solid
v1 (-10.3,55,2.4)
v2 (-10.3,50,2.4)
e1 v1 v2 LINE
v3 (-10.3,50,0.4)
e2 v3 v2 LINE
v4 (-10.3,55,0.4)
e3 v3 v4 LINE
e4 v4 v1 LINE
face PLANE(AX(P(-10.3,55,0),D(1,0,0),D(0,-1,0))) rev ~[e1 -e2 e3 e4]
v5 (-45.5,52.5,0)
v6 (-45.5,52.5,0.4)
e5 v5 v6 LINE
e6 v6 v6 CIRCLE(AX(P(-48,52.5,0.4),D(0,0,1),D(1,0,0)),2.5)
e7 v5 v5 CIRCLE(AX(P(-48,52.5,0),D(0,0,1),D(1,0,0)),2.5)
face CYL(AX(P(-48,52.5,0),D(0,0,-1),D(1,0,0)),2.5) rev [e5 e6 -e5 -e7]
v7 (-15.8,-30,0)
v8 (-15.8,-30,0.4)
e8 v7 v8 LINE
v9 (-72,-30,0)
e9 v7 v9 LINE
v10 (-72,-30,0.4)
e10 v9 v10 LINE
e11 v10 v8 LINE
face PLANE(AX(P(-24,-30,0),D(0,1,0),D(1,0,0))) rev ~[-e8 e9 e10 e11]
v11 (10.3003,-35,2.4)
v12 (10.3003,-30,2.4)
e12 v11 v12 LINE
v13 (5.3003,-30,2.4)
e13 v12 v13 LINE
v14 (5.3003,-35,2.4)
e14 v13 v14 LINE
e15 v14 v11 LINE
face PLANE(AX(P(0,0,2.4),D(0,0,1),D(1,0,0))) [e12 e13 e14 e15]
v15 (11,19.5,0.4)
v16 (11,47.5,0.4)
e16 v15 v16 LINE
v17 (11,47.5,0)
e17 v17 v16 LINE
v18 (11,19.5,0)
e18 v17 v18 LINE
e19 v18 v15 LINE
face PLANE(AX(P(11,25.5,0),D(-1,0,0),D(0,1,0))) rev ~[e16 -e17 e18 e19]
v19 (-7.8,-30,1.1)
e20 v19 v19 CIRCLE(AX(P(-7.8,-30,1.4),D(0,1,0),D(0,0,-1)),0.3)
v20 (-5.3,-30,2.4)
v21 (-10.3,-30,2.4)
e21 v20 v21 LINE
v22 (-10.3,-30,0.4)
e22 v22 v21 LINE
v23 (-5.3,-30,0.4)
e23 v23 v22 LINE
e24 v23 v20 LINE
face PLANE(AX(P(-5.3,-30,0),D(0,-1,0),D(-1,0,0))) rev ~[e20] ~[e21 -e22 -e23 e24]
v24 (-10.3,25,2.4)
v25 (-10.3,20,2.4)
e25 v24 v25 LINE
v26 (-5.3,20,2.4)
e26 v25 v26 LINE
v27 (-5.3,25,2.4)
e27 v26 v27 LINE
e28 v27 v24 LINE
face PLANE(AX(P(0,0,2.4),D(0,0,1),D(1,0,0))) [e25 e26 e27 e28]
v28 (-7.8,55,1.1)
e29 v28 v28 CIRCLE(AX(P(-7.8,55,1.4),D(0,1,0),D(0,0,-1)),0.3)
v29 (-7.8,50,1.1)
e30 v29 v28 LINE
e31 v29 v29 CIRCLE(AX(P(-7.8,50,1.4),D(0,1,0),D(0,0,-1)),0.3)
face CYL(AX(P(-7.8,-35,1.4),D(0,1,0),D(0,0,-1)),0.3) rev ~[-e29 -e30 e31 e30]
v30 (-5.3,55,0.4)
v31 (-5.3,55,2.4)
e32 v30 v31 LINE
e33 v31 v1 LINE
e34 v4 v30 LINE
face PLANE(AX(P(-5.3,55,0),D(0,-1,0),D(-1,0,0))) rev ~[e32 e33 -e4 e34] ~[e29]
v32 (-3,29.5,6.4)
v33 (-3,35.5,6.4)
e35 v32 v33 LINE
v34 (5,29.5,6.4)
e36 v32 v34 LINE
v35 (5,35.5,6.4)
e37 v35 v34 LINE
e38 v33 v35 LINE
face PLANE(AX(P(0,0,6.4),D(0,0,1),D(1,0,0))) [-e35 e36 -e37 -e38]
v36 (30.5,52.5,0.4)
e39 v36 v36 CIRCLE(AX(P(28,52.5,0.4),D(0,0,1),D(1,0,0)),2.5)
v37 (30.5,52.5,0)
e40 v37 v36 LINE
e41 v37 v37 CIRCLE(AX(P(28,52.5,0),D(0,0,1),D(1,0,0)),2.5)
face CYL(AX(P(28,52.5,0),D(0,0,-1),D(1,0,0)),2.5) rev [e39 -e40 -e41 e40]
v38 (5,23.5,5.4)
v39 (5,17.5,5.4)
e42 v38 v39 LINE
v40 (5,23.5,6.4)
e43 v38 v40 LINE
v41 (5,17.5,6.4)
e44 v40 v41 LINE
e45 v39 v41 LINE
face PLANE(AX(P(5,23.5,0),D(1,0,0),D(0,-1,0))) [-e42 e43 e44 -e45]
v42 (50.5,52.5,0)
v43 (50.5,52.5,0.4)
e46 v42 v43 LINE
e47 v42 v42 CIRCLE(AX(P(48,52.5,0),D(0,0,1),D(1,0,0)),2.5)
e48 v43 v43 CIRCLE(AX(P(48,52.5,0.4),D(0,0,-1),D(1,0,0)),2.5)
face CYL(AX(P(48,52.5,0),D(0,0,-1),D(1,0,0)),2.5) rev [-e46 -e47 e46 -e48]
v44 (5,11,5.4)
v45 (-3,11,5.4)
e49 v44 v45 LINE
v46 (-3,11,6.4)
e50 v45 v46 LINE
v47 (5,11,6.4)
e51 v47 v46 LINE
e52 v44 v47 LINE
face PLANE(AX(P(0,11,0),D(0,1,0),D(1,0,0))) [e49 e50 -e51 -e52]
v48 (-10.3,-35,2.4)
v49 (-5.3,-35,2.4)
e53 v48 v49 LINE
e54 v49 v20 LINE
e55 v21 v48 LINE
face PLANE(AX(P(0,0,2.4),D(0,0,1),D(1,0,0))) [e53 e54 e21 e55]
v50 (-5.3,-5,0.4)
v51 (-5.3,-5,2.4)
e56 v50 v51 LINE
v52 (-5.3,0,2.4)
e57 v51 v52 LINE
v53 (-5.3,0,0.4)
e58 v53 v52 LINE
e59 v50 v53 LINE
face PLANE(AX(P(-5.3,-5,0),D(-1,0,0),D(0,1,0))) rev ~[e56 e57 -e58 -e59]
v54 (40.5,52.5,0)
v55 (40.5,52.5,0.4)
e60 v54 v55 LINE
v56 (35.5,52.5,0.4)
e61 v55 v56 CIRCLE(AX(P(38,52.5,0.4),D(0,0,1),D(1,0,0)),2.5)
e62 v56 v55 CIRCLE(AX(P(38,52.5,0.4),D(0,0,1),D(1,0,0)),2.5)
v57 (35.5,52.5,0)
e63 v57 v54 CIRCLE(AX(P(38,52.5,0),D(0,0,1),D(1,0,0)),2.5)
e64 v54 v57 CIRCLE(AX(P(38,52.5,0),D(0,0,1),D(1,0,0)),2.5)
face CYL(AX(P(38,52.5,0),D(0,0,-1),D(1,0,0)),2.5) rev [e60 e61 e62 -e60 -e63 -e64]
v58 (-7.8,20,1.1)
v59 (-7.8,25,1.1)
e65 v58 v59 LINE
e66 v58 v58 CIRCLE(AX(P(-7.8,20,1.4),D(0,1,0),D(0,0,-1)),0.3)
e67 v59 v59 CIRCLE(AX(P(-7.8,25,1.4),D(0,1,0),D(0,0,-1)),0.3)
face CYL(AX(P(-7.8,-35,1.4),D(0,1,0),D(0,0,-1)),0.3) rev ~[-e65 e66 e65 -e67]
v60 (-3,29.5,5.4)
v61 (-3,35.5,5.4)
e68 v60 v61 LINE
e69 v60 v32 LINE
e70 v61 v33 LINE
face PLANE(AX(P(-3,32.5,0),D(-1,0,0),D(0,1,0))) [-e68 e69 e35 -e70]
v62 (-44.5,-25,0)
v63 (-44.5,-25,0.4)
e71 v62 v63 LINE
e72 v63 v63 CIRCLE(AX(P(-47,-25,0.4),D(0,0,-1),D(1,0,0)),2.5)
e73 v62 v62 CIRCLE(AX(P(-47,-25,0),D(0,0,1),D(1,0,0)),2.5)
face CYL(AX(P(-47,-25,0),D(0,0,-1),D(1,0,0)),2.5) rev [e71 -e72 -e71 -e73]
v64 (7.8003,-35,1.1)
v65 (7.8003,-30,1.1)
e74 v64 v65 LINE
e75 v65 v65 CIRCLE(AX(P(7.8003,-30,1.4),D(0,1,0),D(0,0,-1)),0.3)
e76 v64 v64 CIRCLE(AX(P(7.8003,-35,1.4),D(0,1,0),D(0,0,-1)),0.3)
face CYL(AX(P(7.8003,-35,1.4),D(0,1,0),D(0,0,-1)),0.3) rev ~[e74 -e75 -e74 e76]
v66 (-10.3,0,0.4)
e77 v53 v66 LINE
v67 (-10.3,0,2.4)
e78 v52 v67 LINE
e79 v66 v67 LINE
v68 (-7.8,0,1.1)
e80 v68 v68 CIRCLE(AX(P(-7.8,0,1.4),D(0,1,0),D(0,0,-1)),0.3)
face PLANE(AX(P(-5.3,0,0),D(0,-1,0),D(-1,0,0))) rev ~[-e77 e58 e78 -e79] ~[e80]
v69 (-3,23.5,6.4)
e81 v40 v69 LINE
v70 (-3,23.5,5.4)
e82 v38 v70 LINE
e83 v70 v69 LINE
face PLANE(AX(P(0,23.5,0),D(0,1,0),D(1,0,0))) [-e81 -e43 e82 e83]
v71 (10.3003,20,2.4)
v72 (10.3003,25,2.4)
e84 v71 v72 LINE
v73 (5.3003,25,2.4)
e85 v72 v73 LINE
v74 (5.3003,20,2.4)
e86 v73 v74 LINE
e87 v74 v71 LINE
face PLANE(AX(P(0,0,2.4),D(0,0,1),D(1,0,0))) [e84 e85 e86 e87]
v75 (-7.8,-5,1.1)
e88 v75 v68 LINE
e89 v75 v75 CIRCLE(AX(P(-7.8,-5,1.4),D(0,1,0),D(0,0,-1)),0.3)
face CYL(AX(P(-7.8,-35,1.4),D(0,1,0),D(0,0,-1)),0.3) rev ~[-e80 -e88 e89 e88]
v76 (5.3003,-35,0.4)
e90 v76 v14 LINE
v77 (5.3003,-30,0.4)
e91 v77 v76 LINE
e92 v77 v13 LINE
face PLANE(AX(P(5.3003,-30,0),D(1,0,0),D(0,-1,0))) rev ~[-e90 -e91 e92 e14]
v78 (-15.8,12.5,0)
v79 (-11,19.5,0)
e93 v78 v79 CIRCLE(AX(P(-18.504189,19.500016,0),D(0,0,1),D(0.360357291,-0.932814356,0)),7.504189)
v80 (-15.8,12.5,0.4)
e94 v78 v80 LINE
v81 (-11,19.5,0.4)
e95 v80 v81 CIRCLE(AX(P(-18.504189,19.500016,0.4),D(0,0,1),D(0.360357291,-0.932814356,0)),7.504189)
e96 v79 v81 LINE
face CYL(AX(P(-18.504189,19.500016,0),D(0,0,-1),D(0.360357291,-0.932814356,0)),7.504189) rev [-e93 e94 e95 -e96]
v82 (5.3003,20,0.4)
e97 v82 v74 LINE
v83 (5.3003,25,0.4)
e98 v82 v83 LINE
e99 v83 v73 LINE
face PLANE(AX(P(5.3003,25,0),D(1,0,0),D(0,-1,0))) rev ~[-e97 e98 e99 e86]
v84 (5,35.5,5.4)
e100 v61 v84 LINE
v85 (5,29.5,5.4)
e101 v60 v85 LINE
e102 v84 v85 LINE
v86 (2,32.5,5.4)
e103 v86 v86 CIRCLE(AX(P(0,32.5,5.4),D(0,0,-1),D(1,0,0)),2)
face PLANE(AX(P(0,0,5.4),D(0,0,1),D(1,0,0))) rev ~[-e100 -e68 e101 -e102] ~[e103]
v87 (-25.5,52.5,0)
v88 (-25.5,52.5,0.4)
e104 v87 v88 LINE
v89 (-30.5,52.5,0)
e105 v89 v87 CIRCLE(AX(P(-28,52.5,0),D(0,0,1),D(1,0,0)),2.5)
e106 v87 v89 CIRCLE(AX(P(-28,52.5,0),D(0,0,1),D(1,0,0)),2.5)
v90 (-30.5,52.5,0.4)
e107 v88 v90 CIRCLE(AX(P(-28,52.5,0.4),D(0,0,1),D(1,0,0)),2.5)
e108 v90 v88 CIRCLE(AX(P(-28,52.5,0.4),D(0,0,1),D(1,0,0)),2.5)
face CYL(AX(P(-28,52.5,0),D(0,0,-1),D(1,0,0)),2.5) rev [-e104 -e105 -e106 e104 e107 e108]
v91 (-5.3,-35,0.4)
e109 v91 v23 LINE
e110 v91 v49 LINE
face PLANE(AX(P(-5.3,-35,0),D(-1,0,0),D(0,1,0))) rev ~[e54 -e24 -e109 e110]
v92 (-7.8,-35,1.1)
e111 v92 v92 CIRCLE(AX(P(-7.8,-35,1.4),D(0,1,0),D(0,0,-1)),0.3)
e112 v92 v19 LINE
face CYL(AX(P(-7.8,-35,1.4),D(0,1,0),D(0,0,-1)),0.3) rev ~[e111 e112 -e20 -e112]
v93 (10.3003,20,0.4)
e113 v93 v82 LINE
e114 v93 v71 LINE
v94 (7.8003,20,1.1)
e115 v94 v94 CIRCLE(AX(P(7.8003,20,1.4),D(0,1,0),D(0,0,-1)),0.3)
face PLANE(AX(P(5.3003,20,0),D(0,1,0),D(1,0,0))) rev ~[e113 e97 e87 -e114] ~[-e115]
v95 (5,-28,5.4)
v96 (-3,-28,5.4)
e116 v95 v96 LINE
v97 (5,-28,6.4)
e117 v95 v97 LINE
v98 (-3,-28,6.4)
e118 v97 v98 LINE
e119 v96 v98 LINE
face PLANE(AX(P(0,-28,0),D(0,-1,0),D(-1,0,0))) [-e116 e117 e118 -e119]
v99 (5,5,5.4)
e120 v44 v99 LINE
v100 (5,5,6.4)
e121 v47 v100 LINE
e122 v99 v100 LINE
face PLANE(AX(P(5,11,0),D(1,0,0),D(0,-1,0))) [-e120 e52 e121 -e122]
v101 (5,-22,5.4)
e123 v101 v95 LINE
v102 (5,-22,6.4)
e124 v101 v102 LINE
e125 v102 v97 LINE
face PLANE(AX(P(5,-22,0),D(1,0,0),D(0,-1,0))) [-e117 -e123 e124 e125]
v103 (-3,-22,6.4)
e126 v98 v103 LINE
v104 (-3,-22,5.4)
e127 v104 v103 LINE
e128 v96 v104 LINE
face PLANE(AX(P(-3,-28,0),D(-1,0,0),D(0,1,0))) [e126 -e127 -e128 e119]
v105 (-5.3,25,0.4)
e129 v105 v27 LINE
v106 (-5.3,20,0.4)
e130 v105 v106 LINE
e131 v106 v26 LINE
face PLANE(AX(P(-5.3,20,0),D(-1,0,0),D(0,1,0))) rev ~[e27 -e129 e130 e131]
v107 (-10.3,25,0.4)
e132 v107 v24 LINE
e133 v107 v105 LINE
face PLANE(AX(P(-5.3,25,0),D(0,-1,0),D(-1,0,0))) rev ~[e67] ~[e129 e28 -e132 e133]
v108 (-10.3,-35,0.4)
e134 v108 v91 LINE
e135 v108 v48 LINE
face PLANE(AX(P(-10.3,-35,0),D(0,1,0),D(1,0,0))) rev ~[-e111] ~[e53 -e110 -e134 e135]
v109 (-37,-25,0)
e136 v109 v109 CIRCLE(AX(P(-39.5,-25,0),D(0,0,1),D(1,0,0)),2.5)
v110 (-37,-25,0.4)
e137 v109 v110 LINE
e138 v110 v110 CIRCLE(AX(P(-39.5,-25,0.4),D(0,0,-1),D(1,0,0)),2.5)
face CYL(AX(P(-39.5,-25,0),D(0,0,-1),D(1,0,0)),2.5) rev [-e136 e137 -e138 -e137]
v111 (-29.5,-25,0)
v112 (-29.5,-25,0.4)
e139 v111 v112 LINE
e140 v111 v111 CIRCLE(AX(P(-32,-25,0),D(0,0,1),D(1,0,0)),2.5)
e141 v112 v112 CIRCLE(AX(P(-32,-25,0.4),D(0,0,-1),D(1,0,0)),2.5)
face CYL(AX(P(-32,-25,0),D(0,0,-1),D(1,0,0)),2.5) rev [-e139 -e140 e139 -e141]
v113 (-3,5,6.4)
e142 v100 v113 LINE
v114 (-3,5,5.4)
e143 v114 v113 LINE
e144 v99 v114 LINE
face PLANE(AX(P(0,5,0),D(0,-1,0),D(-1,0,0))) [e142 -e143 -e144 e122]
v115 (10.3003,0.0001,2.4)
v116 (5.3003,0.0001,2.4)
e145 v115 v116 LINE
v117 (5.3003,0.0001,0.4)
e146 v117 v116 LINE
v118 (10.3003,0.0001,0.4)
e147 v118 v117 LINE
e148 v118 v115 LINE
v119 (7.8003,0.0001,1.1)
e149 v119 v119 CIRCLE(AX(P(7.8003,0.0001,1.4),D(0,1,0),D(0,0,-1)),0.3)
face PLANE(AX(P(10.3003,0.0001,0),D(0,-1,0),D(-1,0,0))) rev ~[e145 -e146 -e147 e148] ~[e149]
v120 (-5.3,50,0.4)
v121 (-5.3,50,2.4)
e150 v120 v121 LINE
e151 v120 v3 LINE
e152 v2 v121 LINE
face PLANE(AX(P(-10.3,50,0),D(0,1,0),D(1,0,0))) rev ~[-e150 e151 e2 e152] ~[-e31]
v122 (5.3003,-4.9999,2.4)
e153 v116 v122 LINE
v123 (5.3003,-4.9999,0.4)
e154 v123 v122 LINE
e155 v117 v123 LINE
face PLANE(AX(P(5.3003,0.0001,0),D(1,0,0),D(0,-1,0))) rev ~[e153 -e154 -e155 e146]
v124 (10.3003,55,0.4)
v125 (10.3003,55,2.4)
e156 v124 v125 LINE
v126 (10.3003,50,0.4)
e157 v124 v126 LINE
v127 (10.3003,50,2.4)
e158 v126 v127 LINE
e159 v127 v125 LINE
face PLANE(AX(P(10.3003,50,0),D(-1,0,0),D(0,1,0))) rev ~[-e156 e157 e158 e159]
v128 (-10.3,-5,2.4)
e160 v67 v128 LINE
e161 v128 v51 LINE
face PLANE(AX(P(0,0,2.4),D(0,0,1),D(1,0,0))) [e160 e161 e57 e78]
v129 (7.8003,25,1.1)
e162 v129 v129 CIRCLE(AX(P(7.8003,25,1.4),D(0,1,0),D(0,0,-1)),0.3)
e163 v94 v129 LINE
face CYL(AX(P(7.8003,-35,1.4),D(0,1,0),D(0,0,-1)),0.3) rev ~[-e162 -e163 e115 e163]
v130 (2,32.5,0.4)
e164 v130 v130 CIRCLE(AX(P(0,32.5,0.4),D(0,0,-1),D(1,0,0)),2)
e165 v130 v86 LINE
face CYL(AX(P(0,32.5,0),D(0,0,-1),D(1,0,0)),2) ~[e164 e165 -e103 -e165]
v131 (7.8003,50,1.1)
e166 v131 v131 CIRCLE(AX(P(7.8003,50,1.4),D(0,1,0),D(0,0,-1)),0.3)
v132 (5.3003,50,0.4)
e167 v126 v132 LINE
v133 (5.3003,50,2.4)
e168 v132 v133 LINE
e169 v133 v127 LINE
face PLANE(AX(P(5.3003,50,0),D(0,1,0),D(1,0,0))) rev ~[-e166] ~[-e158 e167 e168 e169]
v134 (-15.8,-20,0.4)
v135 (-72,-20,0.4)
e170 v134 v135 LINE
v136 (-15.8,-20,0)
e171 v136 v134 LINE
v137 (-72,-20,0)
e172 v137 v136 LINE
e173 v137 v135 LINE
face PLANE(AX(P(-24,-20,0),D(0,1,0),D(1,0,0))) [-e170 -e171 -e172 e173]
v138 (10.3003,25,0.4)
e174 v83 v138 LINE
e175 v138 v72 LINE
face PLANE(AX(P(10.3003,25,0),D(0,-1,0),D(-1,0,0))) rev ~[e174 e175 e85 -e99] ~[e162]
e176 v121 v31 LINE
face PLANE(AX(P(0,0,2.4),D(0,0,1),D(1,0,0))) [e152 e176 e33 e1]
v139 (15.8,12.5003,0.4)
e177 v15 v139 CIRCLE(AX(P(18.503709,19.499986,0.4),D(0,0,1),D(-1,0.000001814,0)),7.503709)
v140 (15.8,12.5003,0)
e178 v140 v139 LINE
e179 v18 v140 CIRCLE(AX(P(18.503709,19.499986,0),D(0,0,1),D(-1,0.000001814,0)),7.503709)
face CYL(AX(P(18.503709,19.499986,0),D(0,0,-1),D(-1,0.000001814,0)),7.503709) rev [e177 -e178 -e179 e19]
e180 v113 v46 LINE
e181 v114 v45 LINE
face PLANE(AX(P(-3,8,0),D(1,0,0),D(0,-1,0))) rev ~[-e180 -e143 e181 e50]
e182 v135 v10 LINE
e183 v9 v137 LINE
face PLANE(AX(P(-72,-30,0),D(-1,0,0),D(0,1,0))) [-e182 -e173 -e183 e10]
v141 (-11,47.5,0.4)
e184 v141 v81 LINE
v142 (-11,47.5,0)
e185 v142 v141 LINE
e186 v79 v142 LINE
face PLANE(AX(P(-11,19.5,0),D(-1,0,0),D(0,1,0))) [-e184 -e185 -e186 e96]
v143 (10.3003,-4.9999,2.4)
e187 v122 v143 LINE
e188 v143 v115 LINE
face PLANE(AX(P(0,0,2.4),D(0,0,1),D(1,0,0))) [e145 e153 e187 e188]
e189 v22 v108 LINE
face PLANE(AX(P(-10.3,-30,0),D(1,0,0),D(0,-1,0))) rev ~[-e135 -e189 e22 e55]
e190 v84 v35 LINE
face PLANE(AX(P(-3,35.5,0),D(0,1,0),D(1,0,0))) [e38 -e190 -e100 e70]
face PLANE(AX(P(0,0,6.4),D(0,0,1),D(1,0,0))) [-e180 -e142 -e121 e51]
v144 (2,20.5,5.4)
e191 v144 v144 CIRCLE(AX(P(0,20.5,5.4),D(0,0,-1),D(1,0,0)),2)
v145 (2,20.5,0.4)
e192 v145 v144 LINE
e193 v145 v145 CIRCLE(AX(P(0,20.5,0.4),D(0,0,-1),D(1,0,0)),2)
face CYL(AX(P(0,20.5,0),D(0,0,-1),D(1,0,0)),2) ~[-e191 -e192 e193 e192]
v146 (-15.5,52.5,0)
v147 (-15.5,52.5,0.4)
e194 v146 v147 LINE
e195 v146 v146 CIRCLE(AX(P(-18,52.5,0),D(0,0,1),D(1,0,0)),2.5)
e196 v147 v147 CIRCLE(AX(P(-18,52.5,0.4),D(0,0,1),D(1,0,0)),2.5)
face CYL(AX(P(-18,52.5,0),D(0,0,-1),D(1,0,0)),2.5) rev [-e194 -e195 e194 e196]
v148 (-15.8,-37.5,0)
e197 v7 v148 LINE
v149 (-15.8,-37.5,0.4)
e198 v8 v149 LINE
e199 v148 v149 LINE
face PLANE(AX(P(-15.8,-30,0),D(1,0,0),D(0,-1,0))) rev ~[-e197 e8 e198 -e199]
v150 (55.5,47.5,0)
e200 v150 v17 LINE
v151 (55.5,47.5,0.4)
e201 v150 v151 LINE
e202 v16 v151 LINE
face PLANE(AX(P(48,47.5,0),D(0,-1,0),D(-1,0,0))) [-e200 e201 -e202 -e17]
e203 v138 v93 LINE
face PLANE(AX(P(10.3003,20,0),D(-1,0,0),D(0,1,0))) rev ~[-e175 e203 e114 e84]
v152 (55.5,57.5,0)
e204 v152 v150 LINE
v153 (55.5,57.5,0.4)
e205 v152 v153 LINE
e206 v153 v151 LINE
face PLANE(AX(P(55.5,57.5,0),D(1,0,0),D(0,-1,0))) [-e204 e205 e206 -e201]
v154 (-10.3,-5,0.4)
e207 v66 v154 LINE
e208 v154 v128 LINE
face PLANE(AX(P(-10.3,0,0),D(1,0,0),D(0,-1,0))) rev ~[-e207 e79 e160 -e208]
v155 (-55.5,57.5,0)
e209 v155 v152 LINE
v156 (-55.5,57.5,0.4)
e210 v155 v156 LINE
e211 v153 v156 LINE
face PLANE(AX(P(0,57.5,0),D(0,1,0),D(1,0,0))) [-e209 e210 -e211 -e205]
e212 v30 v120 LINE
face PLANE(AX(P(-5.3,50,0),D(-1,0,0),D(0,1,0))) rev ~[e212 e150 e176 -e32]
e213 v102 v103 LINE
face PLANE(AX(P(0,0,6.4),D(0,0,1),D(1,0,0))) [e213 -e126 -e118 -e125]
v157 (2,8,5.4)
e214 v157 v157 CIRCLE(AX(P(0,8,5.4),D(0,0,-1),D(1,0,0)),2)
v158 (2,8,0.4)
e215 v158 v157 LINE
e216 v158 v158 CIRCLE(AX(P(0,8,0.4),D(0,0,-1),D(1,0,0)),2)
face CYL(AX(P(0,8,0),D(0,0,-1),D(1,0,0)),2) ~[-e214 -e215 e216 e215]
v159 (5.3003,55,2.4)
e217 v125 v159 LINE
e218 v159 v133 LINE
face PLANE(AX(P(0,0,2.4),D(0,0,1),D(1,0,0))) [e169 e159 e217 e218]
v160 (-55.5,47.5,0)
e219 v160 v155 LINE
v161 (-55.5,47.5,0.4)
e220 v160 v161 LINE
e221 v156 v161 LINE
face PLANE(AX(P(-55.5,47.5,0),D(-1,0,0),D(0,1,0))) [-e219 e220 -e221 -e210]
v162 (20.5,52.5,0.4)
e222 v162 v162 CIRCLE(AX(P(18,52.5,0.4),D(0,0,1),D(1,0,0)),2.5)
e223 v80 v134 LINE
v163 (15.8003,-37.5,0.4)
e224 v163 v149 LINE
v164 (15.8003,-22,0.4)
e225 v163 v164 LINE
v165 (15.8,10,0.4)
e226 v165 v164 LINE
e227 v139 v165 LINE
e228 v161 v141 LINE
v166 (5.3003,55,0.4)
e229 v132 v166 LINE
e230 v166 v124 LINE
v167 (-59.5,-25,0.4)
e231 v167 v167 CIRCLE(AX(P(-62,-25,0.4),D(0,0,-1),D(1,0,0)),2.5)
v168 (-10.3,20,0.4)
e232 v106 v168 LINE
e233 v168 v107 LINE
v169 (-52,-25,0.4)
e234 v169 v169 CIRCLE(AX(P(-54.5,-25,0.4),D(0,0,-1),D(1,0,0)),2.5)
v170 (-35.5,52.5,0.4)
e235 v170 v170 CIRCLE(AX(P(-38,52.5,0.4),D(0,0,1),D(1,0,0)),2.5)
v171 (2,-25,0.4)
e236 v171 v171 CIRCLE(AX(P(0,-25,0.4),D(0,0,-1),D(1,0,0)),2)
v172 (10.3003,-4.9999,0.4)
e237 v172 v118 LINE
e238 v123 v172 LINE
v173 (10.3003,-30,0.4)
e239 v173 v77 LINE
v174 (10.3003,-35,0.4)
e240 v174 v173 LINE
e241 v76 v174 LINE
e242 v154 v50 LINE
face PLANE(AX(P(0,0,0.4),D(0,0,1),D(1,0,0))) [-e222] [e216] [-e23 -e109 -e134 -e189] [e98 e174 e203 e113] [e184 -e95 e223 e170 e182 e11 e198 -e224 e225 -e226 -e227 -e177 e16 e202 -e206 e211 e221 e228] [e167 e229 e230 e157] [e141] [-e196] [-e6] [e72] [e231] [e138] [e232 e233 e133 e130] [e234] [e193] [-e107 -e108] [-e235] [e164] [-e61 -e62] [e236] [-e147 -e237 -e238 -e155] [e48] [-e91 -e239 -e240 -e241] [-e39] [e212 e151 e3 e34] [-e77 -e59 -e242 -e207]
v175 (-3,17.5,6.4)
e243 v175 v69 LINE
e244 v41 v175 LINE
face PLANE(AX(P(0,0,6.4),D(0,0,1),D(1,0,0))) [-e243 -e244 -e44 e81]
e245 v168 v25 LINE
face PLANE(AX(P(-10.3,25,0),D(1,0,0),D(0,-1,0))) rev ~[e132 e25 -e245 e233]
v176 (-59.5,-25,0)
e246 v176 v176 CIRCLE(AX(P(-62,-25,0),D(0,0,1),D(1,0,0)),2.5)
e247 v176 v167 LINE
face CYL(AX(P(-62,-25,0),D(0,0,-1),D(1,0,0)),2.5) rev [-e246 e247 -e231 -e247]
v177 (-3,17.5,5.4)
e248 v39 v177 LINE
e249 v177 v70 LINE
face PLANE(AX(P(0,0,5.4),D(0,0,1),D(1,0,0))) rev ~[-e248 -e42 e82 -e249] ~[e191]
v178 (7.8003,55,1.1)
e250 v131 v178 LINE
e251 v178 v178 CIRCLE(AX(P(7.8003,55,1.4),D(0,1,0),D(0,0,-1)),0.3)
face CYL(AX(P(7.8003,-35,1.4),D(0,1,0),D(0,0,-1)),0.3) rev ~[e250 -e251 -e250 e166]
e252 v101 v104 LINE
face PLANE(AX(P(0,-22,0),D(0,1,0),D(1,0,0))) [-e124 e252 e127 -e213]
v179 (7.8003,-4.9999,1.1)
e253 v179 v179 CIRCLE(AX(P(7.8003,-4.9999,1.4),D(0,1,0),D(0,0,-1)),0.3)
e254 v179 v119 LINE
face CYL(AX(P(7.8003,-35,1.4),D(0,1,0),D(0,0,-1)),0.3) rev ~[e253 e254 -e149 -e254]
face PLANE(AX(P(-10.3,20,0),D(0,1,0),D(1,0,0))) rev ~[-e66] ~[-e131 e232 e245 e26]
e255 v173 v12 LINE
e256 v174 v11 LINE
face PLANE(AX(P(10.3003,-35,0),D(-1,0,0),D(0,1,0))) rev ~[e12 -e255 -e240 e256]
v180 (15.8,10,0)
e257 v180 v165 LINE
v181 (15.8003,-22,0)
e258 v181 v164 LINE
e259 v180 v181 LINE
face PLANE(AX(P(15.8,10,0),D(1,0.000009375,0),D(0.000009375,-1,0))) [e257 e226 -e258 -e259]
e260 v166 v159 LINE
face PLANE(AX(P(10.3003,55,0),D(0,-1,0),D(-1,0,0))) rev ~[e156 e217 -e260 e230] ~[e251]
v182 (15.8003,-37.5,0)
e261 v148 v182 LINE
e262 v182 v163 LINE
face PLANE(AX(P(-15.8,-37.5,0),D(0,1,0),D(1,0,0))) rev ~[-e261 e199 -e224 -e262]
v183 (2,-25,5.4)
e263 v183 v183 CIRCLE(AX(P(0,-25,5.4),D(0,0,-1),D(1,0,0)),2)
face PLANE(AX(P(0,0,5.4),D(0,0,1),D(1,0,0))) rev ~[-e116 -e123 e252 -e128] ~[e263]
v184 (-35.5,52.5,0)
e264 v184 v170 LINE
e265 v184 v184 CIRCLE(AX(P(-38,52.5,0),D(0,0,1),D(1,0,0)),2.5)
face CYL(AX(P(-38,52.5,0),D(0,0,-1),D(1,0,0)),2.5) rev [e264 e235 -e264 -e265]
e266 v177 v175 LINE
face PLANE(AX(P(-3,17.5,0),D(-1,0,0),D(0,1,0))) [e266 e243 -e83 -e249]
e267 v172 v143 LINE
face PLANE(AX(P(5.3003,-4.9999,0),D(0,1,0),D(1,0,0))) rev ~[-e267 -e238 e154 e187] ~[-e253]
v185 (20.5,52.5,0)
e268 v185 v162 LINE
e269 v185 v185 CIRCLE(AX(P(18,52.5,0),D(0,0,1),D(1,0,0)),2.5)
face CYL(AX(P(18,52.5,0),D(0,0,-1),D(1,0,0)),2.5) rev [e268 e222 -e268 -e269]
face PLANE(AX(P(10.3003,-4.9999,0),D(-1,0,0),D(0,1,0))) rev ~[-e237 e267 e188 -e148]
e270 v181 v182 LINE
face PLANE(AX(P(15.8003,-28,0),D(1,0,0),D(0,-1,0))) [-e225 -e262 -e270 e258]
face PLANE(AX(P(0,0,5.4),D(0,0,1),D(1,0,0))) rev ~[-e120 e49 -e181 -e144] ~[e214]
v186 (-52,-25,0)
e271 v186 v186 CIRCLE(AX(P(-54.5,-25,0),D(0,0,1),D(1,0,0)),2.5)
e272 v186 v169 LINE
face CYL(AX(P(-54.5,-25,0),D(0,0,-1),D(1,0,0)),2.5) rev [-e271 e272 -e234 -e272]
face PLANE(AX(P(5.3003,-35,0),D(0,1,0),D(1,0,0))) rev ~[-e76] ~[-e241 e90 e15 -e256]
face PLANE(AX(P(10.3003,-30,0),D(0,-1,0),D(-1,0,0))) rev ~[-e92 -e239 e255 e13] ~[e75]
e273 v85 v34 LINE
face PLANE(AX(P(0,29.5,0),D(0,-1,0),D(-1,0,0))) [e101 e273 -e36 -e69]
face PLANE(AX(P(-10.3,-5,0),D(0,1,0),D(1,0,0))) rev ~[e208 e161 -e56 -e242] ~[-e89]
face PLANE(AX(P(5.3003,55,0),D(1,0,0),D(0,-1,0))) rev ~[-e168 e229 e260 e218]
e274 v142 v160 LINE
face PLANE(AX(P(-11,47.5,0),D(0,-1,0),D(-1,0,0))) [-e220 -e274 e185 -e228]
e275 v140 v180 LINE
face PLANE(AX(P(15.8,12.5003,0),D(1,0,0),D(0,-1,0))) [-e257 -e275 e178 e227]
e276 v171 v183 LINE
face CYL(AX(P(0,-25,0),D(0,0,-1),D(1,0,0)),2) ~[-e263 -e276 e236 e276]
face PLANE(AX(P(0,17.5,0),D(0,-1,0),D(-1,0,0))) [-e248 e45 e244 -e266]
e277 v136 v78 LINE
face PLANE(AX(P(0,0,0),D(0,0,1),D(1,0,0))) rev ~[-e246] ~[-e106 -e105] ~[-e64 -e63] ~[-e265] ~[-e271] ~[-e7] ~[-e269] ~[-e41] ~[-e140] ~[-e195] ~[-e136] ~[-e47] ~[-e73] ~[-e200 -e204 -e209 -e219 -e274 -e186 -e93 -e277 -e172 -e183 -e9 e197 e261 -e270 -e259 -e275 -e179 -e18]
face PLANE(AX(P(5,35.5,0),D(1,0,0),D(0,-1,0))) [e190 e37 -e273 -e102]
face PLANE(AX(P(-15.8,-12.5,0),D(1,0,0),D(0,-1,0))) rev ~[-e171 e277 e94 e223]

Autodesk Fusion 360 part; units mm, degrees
sketch "Sketch2" plane through (0, 0, 0) normal (0, 0, 1) x (1, 0, 0)
  circle A0 centre (0, 0) radius 11.5
  line L0 (0, 0) -> (0, -11.5)
  line L1 (9.9593, -5.75) -> (-9.9593, -5.75)
  line L2 (9.9593, -5.75) -> (-9.9593, -5.75)
  arc A1 (-9.9593, -5.75) -> (9.9593, -5.75) centre (0, 0) ccw
  dimension "d6" = 23
sketch "Sketch3" plane through (0, 0, 0) normal (0, 0, 1) x (1, 0, 0)
  line L0 (0, -37.5) -> (0, -12.5)
  line L1 (0, -12.5) -> (0, -7.5)
  line L2 (0, -7.5) -> (0, 7.5)
  line L3 (0, 7.5) -> (0, 12.5)
  line L4 (0, 12.5) -> (0, 32.5)
  line L5 (0, 32.5) -> (0, 57.5)
  line L6 (0, 57.5) -> (48, 57.5)
  line L7 (48, 57.5) -> (48, 47.5)
  line L8 (48, 47.5) -> (0, 47.5)
  line L9 (0, 47.5) -> (-48, 47.5)
  line L10 (-48, 57.5) -> (0, 57.5)
  line L11 (0, 32.5) -> (-47.7177, 32.5)
  line L12 (-24, -25) -> (-72, -25)
  line L13 (-72, -25) -> (-72, -20)
  line L14 (-72, -20) -> (-24, -20)
  line L15 (-24, -20) -> (-24, -30)
  line L16 (-24, -30) -> (-72, -30)
  line L17 (-72, -30) -> (-72, -20)
  line L18 (15.8003, -25) -> (15.8003, -28)
  line L19 (-72, -30) -> (-62, -30) construction
  line L20 (-62, -30) -> (-62, -11.1593) construction
  line L21 (-62, -30) -> (-47, -30) construction
  line L22 (-47, -30) -> (-32, -30) construction
  line L23 (-47, -30) -> (-47, -8.6093) construction
  line L24 (-32, -30) -> (-32, -9.4061) construction
  circle A0 centre (-62, -25) radius 2.5
  circle A1 centre (-47, -25) radius 2.5
  circle A2 centre (-32, -25) radius 2.5
  line L25 (-11, 22.5) -> (-11, 25.5)
  line L26 (-11, 19.5) -> (-11, 22.5)
  line L27 (12, 22.5) -> (11, 22.5)
  line L28 (11, 22.5) -> (11, 25.5)
  line L29 (11, 19.5) -> (11, 22.5)
  line L30 (48, 52.5) -> (38, 52.5) construction
  circle A3 centre (-38, 52.5) radius 2.5
  circle A4 centre (38, 52.5) radius 2.5
  line L31 (-38, 52.5) -> (-28, 52.5)
  line L32 (38, 52.5) -> (28, 52.5)
  circle A5 centre (28, 52.5) radius 2.5
  circle A6 centre (-28, 52.5) radius 2.5
  line L33 (-15.8, -12.5) -> (-15.8, 12.5)
  line L34 (11, 25.5) -> (11, 47.5)
  line L35 (-11, 25.5) -> (-11, 47.5)
  line L36 (-15.8, -12.5) -> (-15.8, -37.5)
  line L37 (15.8, 10) -> (15.8003, -22)
  line L38 (-24, -20) -> (-15.8, -20)
  line L39 (-24, -30) -> (-15.8, -30)
  line L40 (-15.8, -37.5) -> (15.8003, -37.5)
  line L41 (15.8003, -22) -> (15.8003, -37.5)
  circle A7 centre (0, -25) radius 2
  line L42 (-2, -25) -> (-3, -25)
  line L43 (-3, -25) -> (-3, -22)
  line L44 (-3, -22) -> (5, -22)
  line L45 (5, -22) -> (5, -28)
  line L46 (5, -28) -> (-3, -28)
  line L47 (-3, -28) -> (-3, -25)
  line L48 (-34.5, -25) -> (-39.5, -25)
  line L49 (-49.5, -25) -> (-54.5, -25)
  circle A8 centre (-39.5, -25) radius 2.5
  circle A9 centre (-54.5, -25) radius 2.5
  line L50 (-15.8, 12.5) -> (15.8, 12.5003)
  line L51 (15.8, 12.5003) -> (15.8, 10)
  arc A10 (-15.8, 12.5) -> (-11, 19.5) centre (-18.5042, 19.5) ccw
  arc A11 (11, 19.5) -> (15.8, 12.5003) centre (18.5037, 19.5) ccw
  circle A12 centre (23, 52.5) radius 2.5 construction
  circle A13 centre (18, 52.5) radius 2.5
  circle A14 centre (-23, 52.5) radius 2.5 construction
  circle A15 centre (-18, 52.5) radius 2.5
  circle A16 centre (43, 52.5) radius 2.5 construction
  circle A17 centre (48, 52.5) radius 2.5
  circle A18 centre (-48, 52.5) radius 2.5
  circle A19 centre (0, 32.5) radius 2
  circle A20 centre (0, 20.5) radius 2
  circle A21 centre (0, 8) radius 2
  line L52 (-2, 8) -> (-3, 8)
  line L53 (-3, 8) -> (-3, 11)
  line L54 (-3, 11) -> (5, 11)
  line L55 (5, 11) -> (5, 5)
  line L56 (5, 5) -> (-3, 5)
  line L57 (-3, 8) -> (-3, 5)
  line L58 (-2, 20.5) -> (-3, 20.5)
  line L59 (-3, 20.5) -> (-3, 23.5)
  line L60 (-3, 23.5) -> (5, 23.5)
  line L61 (5, 23.5) -> (5, 17.5)
  line L62 (5, 17.5) -> (-3, 17.5)
  line L63 (-3, 17.5) -> (-3, 20.5)
  line L64 (-2, 32.5) -> (-3, 32.5)
  line L65 (-3, 32.5) -> (-3, 35.5)
  line L66 (-3, 35.5) -> (5, 35.5)
  line L67 (5, 35.5) -> (5, 29.5)
  line L68 (5, 29.5) -> (-3, 29.5)
  line L69 (-3, 29.5) -> (-3, 32.5)
  line L70 (55.5, 57.5) -> (55.5, 47.5)
  line L71 (48, 47.5) -> (55.5, 47.5)
  line L72 (55.5, 57.5) -> (48, 57.5)
  line L73 (-55.5, 52.5) -> (-55.5, 57.5)
  line L74 (-55.5, 57.5) -> (-48, 57.5)
  line L75 (-48, 47.5) -> (-55.5, 47.5)
  line L76 (-55.5, 47.5) -> (-55.5, 52.5)
  line L77 (15.8003, -37.5) -> (7.8003, -37.5)
  line L78 (7.8003, -37.5) -> (7.8003, 57.5) construction
  line L79 (-15.8, -37.5) -> (-7.8, -37.5) construction
  line L80 (-7.8, -37.5) -> (-7.8, 57.5) construction
  line L81 (7.8003, -37.5) -> (7.8003, -32.5) construction
  line L82 (-7.8, -37.5) -> (-7.8, -32.5) construction
  line L83 (10.3003, -30) -> (5.3003, -30)
  line L84 (5.3003, -30) -> (5.3003, -35)
  line L85 (5.3003, -35) -> (10.3003, -35)
  line L86 (10.3003, -35) -> (10.3003, -30)
  line L87 (10.3003, -30) -> (5.3003, -35) construction
  line L88 (5.3003, -30) -> (10.3003, -35) construction
  line L89 (-5.3, -30) -> (-10.3, -30)
  line L90 (-10.3, -30) -> (-10.3, -35)
  line L91 (-10.3, -35) -> (-5.3, -35)
  line L92 (-5.3, -35) -> (-5.3, -30)
  line L93 (-5.3, -30) -> (-10.3, -35) construction
  line L94 (-10.3, -30) -> (-5.3, -35) construction
  line L95 (0, -37.5) -> (0, -2.5) construction
  line L96 (0, -2.5) -> (29.2324, -2.4997) construction
  line L97 (0, -2.5) -> (-32.3166, -2.4998) construction
  line L98 (-5.3, 0) -> (-10.3, 0)
  line L99 (-10.3, 0) -> (-10.3, -5)
  line L100 (-10.3, -5) -> (-5.3, -5)
  line L101 (-5.3, -5) -> (-5.3, 0)
  line L102 (-5.3, 0) -> (-10.3, -5) construction
  line L103 (-10.3, 0) -> (-5.3, -5) construction
  line L104 (10.3003, 0.0001) -> (5.3003, 0.0001)
  line L105 (5.3003, 0.0001) -> (5.3003, -4.9999)
  line L106 (5.3003, -4.9999) -> (10.3003, -4.9999)
  line L107 (10.3003, -4.9999) -> (10.3003, 0.0001)
  line L108 (10.3003, 0.0001) -> (5.3003, -4.9999) construction
  line L109 (5.3003, 0.0001) -> (10.3003, -4.9999) construction
  line L110 (0, -37.5) -> (0, 22.5) construction
  line L111 (0, 22.5) -> (29.4799, 22.5) construction
  line L112 (0, 22.5) -> (-30.0065, 22.5) construction
  line L113 (-5.3, 25) -> (-10.3, 25)
  line L114 (-10.3, 25) -> (-10.3, 20)
  line L115 (-10.3, 20) -> (-5.3, 20)
  line L116 (-5.3, 20) -> (-5.3, 25)
  line L117 (-5.3, 25) -> (-10.3, 20) construction
  line L118 (-10.3, 25) -> (-5.3, 20) construction
  line L119 (10.3003, 25) -> (5.3003, 25)
  line L120 (5.3003, 25) -> (5.3003, 20)
  line L121 (5.3003, 20) -> (10.3003, 20)
  line L122 (10.3003, 20) -> (10.3003, 25)
  line L123 (10.3003, 25) -> (5.3003, 20) construction
  line L124 (5.3003, 25) -> (10.3003, 20) construction
  line L125 (0, 47.5) -> (0, 52.5)
  line L126 (0, 52.5) -> (7.8003, 52.5) construction
  line L127 (0, 52.5) -> (-7.8, 52.5) construction
  line L128 (-5.3, 55) -> (-10.3, 55)
  line L129 (-10.3, 55) -> (-10.3, 50)
  line L130 (-10.3, 50) -> (-5.3, 50)
  line L131 (-5.3, 50) -> (-5.3, 55)
  line L132 (-5.3, 55) -> (-10.3, 50) construction
  line L133 (-10.3, 55) -> (-5.3, 50) construction
  line L134 (10.3003, 55) -> (5.3003, 55)
  line L135 (5.3003, 55) -> (5.3003, 50)
  line L136 (5.3003, 50) -> (10.3003, 50)
  line L137 (10.3003, 50) -> (10.3003, 55)
  line L138 (10.3003, 55) -> (5.3003, 50) construction
  line L139 (5.3003, 55) -> (10.3003, 50) construction
  point P0 (7.8003, -32.5)
  point P1 (-7.8, -32.5)
  point P2 (-7.8, -2.5)
  point P3 (7.8003, -2.4999)
  point P4 (-7.8, 22.5)
  point P5 (7.8003, 22.5)
  point P6 (-7.8, 52.5)
  point P7 (7.8003, 52.5)
  dimension "d9" = 25
  dimension "d10" = 5
  dimension "d11" = 15
  dimension "d12" = 5
  dimension "d13" = 20
  dimension "d14" = 25
  dimension "d15" = 48
  dimension "d16" = 10
  dimension "d17" = 48
  dimension "d18" = 10
  dimension "d20" = 48
  dimension "d22" = 5
  dimension "d23" = 10
  dimension "d28" = 10
  dimension "d29" = 15
  dimension "d30" = 15
  dimension "d31" = 5
  dimension "d32" = 5
  dimension "d33" = 5
  dimension "d40" = 3
  dimension "d43" = 1
  dimension "d44" = 3
  dimension "d49" = 10
  dimension "d53" = 5
  dimension "d55" = 5
  dimension "d57" = 10
  dimension "d58" = 10
  dimension "d59" = 5
  dimension "d60" = 5
  dimension "d75" = 4
  dimension "d76" = 1
  dimension "d77" = 3
  dimension "d78" = 8
  dimension "d79" = 6
  dimension "d80" = 5
  dimension "d81" = 5
  dimension "d82" = 5
  dimension "d83" = 5
  dimension "d84" = 5
  dimension "d85" = 5
  dimension "d86" = 5
  dimension "d87" = 5
  dimension "d88" = 5
  dimension "d89" = 5
  dimension "d91" = 5
  dimension "d94" = 4
  dimension "d97" = 4
  dimension "d99" = 4
  dimension "d100" = 1
  dimension "d101" = 3
  dimension "d102" = 8
  dimension "d103" = 6
  dimension "d104" = 1
  dimension "d105" = 3
  dimension "d106" = 8
  dimension "d107" = 6
  dimension "d108" = 1
  dimension "d109" = 3
  dimension "d110" = 8
  dimension "d111" = 6
  dimension "d122" = 8
  dimension "d123" = 8
  dimension "d124" = 5
  dimension "d125" = 5
  dimension "d126" = 5
  dimension "d127" = 5
  dimension "d128" = 5
  dimension "d129" = 5
  dimension "d130" = 35
  dimension "d131" = 5
  dimension "d132" = 5
  dimension "d133" = 5
  dimension "d134" = 5
  dimension "d135" = 60
  dimension "d136" = 5
  dimension "d137" = 5
  dimension "d138" = 5
  dimension "d139" = 5
  dimension "d140" = 5
  dimension "d141" = 5
  dimension "d142" = 5
  dimension "d143" = 5
  dimension "d144" = 5
extrude "Extrude8" add sketch "Sketch3" along normal blind 6.4 contours L0 A7 L42 L46 L47 | L0 A7 L44 L45 L46 | L0 A7 | L0 A7 | L0 A7 L42 L43 L44 | L2 A21 L52 L56 L57 | L2 L3 A21 L54 L55 L56 | L3 A21 L52 L53 L54 | L4 A20 L58 L62 L63 | L4 A20 L60 L61 L62 | L2 L3 A21 | L2 L3 A21 | L4 A20 | L4 A20 | L4 A20 L58 L59 L60 | L5 L11 A19 L64 L65 L66 | L4 L11 A19 L64 L68 L69 | L4 L5 A19 L66 L67 L68 | L5 L11 A19 | L4 L11 A19 | L4 L5 A19 makes body 1 at (-0.3333, 11, 2.1333) makes body 2 at (-0.3333, 23.5, 2.1333) makes body 3 at (-0.3333, -22, 2.1333) makes body 4 at (-0.3333, 35.5, 2.1333)
extrude "Extrude9" add sketch "Sketch3" along normal blind 0.4 contours L0 L1 L2 L3 L33 L36 L40 L43 L44 L46 L47 L50 L53 L54 L56 L57 | L0 L1 L2 L3 L18 L37 L40 L41 L44 L45 L46 L50 L51 L54 L55 L56 L77 | L15 L36 L38 L39 | L12 L15 L16 L17 A0 A1 A2 L48 L49 A8 A9 | L12 L13 L14 L15 L17 A0 A1 A2 L48 L49 A8 A9 | L4 L11 L25 L26 L35 L50 A10 L59 L60 L62 L63 L68 L69 | L4 L5 L8 L28 L29 L34 L50 A11 L60 L61 L62 L66 L67 L68 | L5 L9 L11 L35 L65 L66 | L5 L9 L10 L73 L74 L75 L76 L125 | L5 L6 L7 L8 A17 L125 | L7 A17 L70 L71 L72 | L113 L114 L115 L116 | L119 L120 L121 L122 | L128 L129 L130 L131 | L134 L135 L136 L137 bodies 1 2 3 4
extrude "Extrude10" cut sketch "Sketch3" along normal blind 5.4 contours L0 A7 L42 L46 L47 | L0 A7 L44 L45 L46 | L0 A7 L42 L43 L44 | L2 A21 L52 L56 L57 | L2 L3 A21 L54 L55 L56 | L3 A21 L52 L53 L54 | L4 A20 L58 L62 L63 | L4 A20 L60 L61 L62 | L4 A20 L58 L59 L60 | L5 L11 A19 L64 L65 L66 | L4 L11 A19 L64 L68 L69 | L4 L5 A19 L66 L67 L68 bodies 1 makes body 5 at (1.9901, 32.6991, 3.6) makes body 6 at (1.9901, 20.6991, 1.8) makes body 7 at (1.9901, 7.8009, 3.6) makes body 8 at (1.9901, -24.8009, 1.8)
extrude "Extrude11" add sketch "Sketch3" along normal blind 0.4 contours L0 A7 L42 L46 L47 | L0 A7 L44 L45 L46 | L0 A7 L42 L43 L44 | L2 A21 L52 L56 L57 | L2 L3 A21 L54 L55 L56 | L3 A21 L52 L53 L54 | L4 A20 L58 L62 L63 | L4 A20 L60 L61 L62 | L4 A20 L58 L59 L60 | L5 L11 A19 L64 L65 L66 | L4 L11 A19 L64 L68 L69 | L4 L5 A19 L66 L67 L68 bodies 1 5 6 7 8
extrude "Extrude12" add sketch "Sketch3" along normal blind 3.4 contours L83 L84 L85 L86 | L89 L90 L91 L92 | L98 L99 L100 L101 | L104 L105 L106 L107 | L113 L114 L115 L116 | L119 L120 L121 L122 | L128 L129 L130 L131 | L134 L135 L136 L137 bodies 1
extrude "Extrude13" cut 8 faces at (-8.6333, 53.3333, 3.4) (6.967, 53.3333, 3.4) (-8.6333, 23.3333, 3.4) (6.967, 23.3333, 3.4) (-8.6333, -1.6666, 3.4) (6.967, -1.6666, 3.4) (6.967, -33.3333, 3.4) (-8.6333, -33.3333, 3.4) along direction (0, 0, -1) blind 1 on bodies 1 bodies 1
hole "Hole1" at (7.8003, -35, 1.4) direction (0, 1, 0) diameter 0.6 end through all bodies 1 1
hole "Hole2" at (-7.8, -35, 1.4) direction (0, 1, 0) diameter 0.6 end through all bodies 1 1
